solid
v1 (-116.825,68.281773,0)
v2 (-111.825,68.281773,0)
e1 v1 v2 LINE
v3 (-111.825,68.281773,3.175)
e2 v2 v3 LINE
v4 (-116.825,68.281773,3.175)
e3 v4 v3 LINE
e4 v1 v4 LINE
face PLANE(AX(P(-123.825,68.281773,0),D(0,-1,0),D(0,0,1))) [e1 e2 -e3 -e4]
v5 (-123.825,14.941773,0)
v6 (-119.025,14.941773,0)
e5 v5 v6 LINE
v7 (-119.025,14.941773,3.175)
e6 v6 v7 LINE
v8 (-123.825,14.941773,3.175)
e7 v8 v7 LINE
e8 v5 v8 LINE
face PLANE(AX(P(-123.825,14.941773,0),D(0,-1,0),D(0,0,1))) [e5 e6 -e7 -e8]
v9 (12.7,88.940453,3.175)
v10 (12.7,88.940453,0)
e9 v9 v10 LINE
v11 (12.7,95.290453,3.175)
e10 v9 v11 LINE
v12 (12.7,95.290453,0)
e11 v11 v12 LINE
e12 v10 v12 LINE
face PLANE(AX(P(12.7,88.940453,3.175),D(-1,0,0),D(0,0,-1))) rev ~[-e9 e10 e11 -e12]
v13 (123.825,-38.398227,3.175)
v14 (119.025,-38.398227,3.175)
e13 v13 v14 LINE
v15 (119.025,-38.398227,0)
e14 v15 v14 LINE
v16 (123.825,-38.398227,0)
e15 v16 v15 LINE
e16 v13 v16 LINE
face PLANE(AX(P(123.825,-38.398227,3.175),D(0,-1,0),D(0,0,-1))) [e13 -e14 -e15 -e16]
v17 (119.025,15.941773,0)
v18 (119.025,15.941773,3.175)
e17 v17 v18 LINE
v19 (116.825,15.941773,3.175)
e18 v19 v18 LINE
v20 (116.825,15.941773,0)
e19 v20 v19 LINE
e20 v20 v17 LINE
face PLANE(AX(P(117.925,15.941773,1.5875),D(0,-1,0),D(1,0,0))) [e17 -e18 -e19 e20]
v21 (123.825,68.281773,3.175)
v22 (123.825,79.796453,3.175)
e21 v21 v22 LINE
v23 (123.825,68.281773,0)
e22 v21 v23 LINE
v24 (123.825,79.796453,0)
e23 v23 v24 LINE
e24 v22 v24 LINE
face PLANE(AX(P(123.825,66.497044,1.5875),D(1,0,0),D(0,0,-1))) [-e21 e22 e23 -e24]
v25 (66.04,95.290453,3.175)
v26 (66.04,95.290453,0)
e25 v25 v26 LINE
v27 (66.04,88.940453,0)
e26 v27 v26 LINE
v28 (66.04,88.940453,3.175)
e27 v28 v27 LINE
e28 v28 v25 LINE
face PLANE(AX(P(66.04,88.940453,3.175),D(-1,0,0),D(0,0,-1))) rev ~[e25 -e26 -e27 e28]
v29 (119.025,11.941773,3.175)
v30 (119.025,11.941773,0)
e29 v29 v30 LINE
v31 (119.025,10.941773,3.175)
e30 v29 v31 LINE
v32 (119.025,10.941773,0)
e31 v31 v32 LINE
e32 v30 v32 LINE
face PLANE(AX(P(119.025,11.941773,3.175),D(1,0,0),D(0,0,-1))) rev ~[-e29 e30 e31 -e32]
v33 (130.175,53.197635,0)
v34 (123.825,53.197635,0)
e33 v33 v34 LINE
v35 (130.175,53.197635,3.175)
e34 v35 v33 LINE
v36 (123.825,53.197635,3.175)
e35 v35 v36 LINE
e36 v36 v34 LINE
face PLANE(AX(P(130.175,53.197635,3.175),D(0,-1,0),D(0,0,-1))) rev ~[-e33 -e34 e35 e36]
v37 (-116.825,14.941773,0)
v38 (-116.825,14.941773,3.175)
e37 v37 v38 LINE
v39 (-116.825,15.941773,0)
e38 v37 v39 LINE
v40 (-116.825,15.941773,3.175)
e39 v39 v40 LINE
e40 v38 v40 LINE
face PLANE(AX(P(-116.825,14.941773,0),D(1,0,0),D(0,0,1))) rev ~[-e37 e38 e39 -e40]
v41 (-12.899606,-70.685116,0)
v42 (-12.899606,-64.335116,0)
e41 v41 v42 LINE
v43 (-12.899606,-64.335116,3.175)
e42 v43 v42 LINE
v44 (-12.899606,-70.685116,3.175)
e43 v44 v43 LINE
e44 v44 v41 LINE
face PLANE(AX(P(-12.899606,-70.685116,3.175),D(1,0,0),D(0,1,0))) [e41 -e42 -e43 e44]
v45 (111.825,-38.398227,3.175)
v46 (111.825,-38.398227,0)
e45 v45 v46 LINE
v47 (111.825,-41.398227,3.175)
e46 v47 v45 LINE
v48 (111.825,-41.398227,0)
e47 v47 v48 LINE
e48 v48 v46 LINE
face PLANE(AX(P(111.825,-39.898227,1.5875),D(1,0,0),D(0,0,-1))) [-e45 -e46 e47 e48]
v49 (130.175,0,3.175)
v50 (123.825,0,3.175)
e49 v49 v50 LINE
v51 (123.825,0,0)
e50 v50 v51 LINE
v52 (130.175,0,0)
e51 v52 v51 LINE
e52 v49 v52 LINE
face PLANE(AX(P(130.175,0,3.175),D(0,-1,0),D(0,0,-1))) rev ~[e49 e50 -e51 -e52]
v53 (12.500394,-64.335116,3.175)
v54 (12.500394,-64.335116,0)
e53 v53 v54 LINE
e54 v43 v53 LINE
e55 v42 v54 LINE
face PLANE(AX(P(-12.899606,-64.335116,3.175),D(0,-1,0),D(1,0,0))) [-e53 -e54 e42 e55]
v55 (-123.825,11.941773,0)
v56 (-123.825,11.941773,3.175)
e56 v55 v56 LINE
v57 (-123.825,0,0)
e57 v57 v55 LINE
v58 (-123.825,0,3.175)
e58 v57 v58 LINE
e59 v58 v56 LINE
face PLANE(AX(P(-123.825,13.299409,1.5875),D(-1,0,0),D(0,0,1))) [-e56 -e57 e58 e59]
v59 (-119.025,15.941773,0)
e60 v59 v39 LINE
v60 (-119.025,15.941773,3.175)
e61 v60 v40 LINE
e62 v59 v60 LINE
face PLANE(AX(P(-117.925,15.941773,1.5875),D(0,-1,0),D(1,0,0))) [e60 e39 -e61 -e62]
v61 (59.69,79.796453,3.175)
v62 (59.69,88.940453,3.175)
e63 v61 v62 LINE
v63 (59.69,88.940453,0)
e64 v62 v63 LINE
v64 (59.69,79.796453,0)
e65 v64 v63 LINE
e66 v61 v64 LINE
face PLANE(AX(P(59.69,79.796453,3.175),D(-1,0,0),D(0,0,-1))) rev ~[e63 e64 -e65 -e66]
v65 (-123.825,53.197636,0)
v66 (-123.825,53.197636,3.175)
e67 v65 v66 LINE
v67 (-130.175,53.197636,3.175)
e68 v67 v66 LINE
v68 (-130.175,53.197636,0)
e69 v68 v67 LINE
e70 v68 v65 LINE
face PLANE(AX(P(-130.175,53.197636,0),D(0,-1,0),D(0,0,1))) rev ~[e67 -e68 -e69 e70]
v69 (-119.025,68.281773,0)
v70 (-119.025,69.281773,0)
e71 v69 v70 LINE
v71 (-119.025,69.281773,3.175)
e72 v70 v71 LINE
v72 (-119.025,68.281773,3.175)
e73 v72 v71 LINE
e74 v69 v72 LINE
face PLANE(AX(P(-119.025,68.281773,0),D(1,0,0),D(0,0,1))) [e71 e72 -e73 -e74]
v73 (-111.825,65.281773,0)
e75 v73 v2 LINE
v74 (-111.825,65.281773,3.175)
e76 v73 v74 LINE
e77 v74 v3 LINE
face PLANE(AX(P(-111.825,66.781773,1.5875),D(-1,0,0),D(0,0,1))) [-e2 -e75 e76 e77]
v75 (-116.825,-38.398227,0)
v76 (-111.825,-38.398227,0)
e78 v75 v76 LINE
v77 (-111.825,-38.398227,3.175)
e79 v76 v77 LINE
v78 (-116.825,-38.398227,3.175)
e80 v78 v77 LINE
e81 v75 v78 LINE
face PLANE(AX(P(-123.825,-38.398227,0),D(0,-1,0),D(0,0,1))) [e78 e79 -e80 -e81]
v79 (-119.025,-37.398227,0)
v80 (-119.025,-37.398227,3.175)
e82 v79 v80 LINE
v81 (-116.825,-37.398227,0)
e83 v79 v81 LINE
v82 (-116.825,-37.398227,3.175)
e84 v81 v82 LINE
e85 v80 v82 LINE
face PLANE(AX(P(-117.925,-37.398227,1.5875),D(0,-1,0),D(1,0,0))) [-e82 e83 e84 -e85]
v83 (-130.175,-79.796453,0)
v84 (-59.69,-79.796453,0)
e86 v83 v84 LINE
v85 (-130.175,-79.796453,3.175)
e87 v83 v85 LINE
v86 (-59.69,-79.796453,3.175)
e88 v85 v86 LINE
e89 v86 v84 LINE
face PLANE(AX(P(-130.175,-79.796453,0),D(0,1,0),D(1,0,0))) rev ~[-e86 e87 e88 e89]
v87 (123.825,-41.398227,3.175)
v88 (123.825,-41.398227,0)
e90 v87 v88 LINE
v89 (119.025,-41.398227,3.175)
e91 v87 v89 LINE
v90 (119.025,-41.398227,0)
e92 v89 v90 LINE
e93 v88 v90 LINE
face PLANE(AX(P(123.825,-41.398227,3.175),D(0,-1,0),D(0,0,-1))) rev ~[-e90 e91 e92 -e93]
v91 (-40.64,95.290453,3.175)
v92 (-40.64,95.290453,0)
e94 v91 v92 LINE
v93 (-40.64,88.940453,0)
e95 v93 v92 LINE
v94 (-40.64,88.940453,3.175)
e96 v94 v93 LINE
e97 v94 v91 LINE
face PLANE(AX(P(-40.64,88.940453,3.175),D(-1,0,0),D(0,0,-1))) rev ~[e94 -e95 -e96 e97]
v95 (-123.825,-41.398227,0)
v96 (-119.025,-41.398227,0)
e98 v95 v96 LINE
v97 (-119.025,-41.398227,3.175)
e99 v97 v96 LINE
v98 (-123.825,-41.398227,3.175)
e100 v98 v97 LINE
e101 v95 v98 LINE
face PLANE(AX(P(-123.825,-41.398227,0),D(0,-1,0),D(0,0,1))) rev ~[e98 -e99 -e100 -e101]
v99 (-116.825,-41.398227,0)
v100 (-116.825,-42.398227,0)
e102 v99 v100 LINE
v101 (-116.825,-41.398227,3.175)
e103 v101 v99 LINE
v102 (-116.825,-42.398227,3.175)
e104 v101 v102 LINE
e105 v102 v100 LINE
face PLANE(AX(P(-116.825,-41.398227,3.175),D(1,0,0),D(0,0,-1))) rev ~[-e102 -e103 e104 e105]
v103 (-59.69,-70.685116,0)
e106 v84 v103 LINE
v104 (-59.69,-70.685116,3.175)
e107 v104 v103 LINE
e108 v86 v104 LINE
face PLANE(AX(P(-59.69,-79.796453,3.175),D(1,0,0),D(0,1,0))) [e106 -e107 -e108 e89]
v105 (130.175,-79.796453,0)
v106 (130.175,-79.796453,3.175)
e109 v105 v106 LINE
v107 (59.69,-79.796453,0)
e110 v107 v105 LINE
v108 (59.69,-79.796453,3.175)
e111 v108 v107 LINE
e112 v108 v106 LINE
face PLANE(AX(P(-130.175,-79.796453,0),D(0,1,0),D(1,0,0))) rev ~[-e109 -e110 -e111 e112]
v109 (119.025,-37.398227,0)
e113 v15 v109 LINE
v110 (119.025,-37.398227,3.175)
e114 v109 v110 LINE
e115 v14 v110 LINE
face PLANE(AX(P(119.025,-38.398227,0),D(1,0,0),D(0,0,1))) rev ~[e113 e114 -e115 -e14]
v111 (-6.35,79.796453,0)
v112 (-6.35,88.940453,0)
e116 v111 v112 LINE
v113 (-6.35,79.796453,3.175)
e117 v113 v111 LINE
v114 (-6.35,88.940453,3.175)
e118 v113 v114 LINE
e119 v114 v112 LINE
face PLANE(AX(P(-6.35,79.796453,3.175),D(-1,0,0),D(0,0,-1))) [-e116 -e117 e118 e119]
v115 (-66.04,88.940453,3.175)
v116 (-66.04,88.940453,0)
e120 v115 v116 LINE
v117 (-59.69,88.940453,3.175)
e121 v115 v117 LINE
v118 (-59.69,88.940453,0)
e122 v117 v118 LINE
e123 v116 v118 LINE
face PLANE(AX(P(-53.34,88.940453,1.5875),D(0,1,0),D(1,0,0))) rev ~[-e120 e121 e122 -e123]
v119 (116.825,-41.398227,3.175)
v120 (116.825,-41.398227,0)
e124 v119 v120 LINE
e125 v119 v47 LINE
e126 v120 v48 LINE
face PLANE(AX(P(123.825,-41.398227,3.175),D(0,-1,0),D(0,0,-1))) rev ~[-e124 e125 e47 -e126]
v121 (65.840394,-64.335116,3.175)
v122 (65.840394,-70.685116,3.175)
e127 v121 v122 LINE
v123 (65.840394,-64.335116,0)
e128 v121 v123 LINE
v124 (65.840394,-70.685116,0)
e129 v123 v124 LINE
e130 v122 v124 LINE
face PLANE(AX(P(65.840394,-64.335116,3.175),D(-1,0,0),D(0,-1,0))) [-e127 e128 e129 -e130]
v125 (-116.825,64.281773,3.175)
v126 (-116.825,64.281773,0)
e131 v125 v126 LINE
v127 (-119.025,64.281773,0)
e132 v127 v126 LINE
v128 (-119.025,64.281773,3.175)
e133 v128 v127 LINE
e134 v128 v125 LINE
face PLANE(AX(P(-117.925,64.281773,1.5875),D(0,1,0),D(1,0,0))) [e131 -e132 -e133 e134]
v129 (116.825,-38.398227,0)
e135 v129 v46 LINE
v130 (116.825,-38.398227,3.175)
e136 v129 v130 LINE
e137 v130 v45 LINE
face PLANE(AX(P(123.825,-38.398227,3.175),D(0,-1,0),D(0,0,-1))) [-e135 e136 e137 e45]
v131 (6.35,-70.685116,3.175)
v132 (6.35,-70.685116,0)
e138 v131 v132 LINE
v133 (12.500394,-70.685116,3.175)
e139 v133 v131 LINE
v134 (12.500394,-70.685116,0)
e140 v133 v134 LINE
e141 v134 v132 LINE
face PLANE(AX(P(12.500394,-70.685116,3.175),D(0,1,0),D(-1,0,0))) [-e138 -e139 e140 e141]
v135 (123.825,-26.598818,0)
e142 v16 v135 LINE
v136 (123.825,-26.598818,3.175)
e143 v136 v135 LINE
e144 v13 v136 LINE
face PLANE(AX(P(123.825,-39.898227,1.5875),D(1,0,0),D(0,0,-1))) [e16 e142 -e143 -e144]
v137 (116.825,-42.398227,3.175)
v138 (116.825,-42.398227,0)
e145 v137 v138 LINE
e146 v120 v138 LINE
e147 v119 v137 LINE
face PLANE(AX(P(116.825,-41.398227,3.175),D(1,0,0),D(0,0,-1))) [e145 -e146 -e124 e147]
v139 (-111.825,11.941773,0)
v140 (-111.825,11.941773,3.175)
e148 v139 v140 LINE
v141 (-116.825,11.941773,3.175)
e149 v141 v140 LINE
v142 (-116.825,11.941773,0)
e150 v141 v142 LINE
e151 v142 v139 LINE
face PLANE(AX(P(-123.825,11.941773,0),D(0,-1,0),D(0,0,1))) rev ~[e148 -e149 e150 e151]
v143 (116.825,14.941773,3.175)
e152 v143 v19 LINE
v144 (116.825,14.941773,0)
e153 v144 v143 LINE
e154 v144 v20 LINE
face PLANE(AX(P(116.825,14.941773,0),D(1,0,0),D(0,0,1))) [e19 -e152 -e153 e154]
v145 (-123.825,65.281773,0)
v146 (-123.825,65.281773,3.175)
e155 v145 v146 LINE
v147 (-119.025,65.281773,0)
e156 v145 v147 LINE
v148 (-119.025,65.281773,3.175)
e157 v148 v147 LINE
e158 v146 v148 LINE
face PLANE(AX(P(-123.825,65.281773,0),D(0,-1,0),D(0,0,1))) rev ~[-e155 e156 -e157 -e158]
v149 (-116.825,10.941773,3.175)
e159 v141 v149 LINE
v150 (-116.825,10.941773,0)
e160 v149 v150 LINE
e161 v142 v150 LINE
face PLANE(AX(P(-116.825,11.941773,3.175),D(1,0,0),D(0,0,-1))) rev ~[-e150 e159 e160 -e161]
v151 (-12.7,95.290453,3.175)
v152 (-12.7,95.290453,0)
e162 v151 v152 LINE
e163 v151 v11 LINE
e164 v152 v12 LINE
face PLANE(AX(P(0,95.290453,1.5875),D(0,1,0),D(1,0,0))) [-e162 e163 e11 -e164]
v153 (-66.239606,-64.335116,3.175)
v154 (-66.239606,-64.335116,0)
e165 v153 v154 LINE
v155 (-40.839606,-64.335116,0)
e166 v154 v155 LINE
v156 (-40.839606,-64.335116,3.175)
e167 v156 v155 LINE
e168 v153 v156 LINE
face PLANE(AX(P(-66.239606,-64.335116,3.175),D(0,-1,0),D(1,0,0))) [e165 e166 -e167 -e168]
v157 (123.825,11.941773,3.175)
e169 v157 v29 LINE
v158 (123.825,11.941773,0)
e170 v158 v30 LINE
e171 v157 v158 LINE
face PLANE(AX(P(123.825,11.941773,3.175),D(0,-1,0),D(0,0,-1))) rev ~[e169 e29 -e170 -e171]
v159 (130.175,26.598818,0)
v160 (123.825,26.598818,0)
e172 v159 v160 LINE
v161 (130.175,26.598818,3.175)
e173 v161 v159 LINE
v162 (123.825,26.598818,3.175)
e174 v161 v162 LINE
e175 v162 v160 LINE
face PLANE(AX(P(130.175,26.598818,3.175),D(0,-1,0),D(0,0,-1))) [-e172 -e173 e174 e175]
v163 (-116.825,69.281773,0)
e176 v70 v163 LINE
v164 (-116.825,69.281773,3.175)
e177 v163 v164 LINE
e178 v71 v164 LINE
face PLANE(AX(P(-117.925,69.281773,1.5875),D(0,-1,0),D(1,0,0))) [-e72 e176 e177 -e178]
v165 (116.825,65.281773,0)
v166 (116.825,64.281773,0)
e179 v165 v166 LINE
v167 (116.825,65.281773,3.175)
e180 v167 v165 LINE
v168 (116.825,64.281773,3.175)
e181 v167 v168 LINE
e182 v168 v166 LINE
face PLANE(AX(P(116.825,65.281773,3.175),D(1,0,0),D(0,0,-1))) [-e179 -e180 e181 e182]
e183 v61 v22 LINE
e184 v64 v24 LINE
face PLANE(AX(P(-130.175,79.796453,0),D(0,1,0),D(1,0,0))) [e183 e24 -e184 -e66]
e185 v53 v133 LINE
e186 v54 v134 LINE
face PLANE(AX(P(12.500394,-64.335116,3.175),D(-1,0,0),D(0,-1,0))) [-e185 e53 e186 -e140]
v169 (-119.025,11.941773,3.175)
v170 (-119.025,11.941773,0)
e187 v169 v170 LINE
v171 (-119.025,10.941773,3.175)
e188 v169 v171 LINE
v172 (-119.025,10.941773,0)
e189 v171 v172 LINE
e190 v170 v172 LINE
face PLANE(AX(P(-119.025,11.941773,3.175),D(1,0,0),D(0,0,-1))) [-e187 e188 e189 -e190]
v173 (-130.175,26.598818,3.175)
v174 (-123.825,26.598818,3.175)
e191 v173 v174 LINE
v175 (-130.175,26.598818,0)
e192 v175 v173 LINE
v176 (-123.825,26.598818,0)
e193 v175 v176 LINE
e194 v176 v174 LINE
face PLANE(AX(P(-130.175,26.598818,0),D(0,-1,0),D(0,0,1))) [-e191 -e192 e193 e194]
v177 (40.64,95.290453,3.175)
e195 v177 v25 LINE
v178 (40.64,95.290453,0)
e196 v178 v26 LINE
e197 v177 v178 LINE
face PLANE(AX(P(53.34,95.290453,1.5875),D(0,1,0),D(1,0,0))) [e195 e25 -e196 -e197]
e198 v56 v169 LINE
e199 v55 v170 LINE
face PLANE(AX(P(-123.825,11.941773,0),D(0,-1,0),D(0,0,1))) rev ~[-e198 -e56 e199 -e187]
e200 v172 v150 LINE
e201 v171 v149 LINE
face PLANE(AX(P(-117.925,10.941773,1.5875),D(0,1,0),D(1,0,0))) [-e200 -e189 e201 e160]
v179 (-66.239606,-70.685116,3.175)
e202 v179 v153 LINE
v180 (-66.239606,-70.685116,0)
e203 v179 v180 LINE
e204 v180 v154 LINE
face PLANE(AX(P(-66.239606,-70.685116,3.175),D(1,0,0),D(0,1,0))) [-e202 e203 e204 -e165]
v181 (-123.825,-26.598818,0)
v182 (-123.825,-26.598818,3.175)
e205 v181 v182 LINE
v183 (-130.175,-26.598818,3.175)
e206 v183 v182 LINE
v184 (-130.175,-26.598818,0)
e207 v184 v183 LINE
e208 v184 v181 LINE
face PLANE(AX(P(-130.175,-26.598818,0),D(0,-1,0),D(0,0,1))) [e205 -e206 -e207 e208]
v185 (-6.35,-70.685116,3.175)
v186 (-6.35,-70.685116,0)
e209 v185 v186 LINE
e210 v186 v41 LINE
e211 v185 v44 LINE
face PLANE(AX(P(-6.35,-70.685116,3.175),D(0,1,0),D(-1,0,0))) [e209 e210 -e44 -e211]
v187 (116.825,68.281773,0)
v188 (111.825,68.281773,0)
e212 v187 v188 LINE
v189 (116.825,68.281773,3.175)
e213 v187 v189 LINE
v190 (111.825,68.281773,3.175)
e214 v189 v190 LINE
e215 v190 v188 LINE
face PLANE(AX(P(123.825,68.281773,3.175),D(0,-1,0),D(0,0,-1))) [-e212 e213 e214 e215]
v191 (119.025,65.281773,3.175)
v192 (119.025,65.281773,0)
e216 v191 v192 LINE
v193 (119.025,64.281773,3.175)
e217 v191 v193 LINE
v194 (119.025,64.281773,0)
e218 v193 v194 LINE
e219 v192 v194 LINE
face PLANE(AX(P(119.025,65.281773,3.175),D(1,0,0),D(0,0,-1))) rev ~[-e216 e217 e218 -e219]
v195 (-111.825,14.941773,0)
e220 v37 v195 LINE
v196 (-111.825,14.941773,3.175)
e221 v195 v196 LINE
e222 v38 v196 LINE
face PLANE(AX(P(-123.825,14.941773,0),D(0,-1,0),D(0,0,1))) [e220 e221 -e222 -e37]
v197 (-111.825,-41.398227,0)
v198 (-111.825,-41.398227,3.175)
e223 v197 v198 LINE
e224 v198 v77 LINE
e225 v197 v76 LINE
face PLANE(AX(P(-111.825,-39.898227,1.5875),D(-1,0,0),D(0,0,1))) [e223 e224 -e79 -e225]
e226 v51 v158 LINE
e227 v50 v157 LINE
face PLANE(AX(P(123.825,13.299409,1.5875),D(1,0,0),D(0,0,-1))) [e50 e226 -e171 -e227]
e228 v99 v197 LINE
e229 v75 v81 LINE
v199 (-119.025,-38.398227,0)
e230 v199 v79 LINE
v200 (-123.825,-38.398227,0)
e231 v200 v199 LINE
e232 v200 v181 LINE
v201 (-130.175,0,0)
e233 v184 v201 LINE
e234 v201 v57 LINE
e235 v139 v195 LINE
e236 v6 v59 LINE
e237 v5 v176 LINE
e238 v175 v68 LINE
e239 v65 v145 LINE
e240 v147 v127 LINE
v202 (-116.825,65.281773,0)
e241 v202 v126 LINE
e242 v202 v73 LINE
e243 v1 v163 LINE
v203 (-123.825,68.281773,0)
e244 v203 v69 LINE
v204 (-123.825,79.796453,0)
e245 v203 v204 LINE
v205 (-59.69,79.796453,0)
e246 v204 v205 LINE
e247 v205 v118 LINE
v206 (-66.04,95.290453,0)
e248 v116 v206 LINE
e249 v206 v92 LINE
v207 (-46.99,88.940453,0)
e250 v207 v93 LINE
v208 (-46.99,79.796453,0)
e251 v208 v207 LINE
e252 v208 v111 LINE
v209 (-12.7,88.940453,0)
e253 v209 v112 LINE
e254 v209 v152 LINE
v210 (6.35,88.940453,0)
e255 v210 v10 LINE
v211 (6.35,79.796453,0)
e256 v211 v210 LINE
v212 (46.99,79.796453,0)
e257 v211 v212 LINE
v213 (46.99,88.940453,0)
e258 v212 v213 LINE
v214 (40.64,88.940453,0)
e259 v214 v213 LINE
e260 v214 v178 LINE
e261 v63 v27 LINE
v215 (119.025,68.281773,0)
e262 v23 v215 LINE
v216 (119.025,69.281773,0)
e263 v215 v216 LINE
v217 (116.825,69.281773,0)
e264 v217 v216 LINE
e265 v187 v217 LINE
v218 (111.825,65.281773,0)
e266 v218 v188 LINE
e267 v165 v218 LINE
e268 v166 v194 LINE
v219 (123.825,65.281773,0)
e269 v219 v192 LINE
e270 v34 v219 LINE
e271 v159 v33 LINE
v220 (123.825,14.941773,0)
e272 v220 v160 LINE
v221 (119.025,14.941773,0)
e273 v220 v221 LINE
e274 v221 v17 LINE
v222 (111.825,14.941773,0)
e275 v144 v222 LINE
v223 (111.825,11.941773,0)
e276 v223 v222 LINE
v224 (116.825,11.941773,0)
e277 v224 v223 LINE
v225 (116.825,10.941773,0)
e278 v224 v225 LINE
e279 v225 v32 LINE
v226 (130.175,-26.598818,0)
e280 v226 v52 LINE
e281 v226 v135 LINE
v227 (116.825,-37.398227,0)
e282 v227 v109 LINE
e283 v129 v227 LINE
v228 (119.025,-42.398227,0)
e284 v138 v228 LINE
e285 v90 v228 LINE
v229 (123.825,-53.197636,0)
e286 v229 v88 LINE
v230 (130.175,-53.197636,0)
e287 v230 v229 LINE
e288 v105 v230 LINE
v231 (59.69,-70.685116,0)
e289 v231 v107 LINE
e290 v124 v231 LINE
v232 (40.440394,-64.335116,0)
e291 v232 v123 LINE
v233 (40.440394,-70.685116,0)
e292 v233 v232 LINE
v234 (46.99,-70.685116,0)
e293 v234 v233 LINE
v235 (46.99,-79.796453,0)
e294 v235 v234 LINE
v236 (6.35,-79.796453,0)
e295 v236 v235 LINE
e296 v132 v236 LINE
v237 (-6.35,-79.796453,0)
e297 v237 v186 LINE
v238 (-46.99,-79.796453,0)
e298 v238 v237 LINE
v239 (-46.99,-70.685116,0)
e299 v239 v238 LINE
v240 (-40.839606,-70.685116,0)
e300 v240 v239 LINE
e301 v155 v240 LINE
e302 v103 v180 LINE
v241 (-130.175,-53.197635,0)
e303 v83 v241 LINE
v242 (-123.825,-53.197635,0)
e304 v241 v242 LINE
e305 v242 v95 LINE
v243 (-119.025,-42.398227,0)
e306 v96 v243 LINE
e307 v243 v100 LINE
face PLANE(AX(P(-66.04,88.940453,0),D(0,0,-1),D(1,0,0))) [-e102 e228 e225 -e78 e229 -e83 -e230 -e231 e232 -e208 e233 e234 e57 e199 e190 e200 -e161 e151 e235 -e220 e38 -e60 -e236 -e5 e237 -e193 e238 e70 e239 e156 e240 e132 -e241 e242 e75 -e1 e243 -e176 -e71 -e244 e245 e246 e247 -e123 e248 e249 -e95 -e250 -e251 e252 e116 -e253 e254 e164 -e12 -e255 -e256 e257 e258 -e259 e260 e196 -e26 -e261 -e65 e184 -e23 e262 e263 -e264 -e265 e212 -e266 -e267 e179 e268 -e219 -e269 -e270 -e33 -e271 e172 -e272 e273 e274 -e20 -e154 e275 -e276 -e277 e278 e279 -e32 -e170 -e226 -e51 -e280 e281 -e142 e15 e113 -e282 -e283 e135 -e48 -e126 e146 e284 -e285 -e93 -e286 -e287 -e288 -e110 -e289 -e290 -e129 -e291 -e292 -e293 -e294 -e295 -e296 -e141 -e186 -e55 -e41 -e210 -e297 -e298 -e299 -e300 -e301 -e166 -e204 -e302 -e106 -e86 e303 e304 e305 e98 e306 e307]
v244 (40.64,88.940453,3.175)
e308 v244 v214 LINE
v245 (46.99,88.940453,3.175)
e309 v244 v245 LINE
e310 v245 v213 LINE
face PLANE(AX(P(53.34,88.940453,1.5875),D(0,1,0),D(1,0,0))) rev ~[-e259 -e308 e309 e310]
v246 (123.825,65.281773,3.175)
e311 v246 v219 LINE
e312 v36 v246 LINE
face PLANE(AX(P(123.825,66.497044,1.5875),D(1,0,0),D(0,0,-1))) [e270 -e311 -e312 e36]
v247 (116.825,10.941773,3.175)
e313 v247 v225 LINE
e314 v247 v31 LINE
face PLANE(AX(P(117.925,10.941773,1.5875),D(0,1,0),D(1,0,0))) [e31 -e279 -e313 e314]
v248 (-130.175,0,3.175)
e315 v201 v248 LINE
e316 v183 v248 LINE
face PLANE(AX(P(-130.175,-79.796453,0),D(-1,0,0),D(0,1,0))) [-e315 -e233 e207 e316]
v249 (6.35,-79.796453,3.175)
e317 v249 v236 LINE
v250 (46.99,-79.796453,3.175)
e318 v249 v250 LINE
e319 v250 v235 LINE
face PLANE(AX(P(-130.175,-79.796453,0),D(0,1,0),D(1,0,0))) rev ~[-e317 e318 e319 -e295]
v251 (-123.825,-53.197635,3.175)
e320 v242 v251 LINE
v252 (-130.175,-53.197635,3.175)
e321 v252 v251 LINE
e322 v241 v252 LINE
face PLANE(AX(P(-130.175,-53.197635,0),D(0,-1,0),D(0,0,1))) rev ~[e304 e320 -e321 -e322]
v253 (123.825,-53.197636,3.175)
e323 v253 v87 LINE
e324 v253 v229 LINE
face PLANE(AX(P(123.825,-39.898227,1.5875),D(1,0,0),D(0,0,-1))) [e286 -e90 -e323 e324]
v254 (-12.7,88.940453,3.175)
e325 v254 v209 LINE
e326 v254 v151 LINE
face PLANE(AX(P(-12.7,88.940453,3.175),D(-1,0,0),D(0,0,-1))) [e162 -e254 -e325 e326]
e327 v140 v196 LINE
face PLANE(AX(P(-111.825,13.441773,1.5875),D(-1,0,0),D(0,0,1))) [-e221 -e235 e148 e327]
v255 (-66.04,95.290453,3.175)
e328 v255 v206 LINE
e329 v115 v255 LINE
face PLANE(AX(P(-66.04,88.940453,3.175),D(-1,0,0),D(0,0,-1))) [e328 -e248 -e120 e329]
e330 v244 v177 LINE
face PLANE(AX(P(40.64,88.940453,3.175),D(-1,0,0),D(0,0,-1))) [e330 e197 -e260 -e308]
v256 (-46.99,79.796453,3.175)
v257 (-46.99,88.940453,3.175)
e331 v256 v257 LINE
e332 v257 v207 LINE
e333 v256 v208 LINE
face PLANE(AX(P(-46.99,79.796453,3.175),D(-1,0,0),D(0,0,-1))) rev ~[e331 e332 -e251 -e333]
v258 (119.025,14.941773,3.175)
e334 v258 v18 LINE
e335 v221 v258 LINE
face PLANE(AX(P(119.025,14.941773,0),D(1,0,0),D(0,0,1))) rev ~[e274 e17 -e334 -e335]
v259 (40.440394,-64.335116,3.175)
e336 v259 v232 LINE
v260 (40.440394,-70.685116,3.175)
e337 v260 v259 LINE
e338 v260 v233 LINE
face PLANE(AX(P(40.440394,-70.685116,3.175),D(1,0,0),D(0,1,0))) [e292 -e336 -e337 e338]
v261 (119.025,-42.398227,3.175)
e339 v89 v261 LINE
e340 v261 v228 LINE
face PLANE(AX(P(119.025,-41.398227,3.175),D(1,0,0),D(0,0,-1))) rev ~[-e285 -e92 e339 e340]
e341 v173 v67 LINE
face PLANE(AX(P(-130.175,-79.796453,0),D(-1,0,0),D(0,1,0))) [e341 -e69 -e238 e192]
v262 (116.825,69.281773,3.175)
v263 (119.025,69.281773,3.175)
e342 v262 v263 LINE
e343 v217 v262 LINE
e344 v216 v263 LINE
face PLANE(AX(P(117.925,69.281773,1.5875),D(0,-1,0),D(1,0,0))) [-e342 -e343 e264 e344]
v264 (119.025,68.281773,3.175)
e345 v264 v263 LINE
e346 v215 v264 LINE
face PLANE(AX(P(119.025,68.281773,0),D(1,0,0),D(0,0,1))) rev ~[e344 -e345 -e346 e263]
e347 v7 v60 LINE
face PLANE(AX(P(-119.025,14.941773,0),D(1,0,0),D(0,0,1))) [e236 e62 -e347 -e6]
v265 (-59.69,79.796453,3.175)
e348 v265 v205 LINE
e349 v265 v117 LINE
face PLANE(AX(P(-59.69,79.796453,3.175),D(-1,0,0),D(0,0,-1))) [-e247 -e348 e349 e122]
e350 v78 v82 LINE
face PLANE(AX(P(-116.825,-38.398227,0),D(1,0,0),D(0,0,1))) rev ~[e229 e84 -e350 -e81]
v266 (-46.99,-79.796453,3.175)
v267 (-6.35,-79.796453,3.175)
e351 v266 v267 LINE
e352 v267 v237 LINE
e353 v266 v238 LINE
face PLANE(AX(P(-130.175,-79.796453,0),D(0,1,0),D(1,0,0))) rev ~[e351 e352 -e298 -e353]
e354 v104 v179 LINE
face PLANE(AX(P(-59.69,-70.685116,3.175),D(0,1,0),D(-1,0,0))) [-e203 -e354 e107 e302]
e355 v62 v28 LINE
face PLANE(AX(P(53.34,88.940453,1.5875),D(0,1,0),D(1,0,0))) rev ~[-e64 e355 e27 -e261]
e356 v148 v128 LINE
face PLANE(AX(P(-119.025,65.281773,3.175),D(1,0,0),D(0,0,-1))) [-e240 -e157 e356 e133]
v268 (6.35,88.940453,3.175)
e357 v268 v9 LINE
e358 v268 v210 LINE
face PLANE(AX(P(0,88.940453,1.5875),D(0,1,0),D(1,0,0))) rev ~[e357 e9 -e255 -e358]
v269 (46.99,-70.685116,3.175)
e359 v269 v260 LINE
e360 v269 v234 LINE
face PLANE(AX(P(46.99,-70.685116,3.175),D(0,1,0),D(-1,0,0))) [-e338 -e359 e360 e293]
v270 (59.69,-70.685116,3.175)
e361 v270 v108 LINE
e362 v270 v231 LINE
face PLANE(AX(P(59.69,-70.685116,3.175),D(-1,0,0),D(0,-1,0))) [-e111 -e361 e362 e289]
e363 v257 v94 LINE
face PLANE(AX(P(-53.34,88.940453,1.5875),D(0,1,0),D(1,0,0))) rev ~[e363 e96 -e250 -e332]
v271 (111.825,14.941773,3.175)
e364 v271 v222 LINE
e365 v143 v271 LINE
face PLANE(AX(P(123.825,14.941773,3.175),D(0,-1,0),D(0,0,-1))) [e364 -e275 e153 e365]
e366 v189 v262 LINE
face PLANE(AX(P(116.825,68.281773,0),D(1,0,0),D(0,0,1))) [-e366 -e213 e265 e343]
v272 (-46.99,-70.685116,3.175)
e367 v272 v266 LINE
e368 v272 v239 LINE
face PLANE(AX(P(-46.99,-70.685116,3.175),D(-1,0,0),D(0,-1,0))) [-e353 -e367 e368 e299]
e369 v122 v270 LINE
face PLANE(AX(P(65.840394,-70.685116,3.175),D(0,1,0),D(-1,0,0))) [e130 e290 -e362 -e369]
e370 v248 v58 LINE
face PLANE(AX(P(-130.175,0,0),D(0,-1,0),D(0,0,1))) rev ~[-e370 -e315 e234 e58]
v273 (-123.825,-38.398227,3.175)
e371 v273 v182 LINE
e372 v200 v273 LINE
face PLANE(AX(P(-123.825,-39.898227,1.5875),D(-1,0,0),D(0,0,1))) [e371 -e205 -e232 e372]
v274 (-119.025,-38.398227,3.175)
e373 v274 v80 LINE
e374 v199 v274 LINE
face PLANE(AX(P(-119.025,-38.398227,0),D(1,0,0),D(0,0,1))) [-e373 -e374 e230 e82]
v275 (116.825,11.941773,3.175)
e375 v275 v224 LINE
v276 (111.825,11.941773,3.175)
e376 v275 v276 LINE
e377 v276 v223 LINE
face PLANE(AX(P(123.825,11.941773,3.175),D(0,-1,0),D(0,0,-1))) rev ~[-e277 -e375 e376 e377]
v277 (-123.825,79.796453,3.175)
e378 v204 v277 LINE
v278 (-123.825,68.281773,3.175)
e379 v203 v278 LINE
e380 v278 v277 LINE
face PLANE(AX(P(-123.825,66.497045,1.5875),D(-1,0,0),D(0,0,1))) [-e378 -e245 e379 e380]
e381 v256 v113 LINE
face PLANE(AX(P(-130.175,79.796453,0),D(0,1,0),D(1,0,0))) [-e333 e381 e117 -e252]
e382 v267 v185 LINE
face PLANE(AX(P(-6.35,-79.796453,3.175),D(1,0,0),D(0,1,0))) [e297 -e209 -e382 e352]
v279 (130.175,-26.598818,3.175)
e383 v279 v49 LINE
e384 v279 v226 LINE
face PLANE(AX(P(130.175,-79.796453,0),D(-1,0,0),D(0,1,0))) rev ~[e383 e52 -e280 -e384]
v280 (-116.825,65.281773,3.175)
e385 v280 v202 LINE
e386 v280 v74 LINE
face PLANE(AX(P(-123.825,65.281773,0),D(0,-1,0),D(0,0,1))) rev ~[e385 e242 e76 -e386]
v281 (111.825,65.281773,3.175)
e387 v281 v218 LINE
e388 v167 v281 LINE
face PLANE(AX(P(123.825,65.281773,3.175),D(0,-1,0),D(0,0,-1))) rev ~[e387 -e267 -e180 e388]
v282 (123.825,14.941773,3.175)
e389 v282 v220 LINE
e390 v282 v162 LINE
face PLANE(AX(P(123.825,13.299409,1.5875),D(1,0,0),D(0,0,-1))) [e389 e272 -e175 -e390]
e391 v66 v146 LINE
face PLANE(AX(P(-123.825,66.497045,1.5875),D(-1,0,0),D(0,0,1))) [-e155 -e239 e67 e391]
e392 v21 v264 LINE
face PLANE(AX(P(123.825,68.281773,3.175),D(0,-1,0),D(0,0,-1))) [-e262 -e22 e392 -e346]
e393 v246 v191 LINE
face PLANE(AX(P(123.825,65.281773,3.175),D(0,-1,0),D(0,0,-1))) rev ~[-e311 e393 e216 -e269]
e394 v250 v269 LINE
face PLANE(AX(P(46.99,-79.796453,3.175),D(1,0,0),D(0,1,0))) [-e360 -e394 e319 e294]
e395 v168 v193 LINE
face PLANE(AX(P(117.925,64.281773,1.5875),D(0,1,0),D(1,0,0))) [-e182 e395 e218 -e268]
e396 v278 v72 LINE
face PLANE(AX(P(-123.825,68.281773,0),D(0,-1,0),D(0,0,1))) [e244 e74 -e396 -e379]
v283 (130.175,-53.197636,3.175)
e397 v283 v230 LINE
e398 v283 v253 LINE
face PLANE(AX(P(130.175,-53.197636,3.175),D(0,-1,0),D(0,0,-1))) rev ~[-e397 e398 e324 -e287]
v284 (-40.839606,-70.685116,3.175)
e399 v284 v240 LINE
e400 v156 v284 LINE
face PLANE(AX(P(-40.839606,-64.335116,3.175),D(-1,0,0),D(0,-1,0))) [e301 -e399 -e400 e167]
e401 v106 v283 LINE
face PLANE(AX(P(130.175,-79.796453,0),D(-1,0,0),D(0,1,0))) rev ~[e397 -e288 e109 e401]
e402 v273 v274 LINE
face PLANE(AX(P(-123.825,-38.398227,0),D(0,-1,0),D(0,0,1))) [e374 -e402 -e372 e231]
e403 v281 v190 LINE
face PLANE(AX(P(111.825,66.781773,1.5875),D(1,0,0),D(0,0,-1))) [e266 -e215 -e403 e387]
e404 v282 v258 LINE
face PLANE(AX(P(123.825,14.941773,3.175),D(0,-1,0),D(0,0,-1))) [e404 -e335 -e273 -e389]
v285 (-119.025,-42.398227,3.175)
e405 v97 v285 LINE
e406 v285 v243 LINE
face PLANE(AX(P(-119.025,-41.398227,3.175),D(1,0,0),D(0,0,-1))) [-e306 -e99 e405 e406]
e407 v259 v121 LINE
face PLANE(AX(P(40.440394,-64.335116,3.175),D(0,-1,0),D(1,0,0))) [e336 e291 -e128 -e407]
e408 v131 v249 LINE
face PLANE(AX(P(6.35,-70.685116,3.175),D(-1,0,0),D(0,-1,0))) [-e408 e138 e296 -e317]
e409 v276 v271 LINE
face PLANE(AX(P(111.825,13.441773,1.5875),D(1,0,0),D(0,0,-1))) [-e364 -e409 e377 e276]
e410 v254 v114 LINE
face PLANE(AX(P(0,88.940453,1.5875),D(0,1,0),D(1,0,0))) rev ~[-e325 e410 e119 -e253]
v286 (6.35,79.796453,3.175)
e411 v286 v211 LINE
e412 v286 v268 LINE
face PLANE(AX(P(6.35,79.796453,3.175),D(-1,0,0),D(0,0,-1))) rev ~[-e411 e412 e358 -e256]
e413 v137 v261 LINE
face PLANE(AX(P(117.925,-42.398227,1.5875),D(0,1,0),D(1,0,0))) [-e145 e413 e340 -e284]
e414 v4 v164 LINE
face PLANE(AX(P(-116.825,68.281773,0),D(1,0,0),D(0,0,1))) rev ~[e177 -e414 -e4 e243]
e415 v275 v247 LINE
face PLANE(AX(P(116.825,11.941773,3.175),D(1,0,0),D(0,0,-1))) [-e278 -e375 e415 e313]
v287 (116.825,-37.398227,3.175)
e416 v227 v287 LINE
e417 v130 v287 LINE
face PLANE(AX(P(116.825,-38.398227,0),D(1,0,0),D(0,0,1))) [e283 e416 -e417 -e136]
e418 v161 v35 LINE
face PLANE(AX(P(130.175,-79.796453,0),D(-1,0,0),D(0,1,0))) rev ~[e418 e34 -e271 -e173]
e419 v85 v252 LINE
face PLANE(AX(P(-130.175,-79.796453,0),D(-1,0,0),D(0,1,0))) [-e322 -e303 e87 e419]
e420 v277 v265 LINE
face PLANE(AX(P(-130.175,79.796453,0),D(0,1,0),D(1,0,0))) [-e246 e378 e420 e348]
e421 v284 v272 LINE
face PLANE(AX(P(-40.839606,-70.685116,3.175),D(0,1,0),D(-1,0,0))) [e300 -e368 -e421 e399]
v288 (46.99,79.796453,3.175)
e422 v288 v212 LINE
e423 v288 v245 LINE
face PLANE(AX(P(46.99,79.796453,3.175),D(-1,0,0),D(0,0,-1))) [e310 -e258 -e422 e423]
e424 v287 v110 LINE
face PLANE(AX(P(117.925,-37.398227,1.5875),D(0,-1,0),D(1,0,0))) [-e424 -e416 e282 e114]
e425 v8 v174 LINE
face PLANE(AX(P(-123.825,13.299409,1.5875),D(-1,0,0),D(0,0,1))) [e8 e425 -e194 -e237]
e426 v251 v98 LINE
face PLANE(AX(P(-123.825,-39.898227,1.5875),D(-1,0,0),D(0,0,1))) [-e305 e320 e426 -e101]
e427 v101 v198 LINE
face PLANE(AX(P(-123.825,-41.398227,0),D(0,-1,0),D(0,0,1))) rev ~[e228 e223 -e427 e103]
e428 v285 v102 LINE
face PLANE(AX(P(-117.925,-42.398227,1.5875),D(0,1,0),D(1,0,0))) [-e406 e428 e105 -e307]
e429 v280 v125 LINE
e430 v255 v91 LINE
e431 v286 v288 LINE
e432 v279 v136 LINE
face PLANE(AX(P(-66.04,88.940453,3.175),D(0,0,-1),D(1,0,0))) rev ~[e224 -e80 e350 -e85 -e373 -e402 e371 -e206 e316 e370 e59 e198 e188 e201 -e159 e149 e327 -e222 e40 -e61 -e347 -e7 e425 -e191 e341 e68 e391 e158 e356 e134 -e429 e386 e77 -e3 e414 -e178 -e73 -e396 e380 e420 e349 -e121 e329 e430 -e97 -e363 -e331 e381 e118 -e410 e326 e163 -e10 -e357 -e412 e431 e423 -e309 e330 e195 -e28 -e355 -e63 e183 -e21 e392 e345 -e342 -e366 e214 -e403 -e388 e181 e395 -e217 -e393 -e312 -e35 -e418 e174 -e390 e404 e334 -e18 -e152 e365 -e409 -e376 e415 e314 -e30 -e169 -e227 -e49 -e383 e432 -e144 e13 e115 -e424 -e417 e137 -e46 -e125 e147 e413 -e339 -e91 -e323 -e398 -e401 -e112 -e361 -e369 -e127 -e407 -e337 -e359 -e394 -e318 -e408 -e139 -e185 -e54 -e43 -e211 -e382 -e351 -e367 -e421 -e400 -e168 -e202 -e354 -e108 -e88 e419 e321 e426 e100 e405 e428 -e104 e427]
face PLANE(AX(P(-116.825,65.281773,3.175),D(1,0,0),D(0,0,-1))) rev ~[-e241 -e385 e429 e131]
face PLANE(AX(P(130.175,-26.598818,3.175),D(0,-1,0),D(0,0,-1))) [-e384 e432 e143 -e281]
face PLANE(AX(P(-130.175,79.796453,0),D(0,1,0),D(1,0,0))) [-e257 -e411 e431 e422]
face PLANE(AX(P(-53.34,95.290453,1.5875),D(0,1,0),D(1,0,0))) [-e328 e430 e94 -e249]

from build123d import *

# Parameters (mm, degrees)
SKETCH1_W           = 260.35
SKETCH1_H           = 159.592906802
BOSS_EXTRUDE1_DEPTH = 3.175
SKETCH2_W           = 3.175
SKETCH2_H           = 26.5988178
CUT_EXTRUDE1_DEPTH  = 6.35
LPATTERN1_COUNT     = 3
LPATTERN1_PITCH     = 53.19763554
SKETCH3_W           = 3.175
SKETCH3_H           = 26.59881777
CUT_EXTRUDE3_DEPTH  = 6.35
LPATTERN3_COUNT     = 3
LPATTERN3_PITCH     = 53.19763554
SKETCH5_W           = 3.175
SKETCH5_H           = 3
CUT_EXTRUDE4_DEPTH  = 12
SKETCH6_W           = 2.2
SKETCH6_H           = 3.175
CUT_EXTRUDE5_DEPTH  = 1
SKETCH8_W           = 2.2
SKETCH8_H           = 3.175
CUT_EXTRUDE6_DEPTH  = 1
LPATTERN5_COUNT     = 3
LPATTERN5_PITCH     = 53.34
SKETCH9_W           = 3.175
SKETCH9_H           = 3
CUT_EXTRUDE7_DEPTH  = 12
SKETCH10_W          = 2.2
SKETCH10_H          = 3.175
CUT_EXTRUDE8_DEPTH  = 1
SKETCH11_W          = 2.2
SKETCH11_H          = 3.175
CUT_EXTRUDE9_DEPTH  = 1
LPATTERN6_COUNT     = 3
LPATTERN6_PITCH     = 53.34
CUT_EXTRUDE10_DEPTH = 153.718974674
LPATTERN7_COUNT     = 2
LPATTERN7_PITCH     = 53.34
LPATTERN8_COUNT     = 2
LPATTERN8_PITCH     = 53.34
SKETCH15_W          = 12.7
SKETCH15_H          = 3.175
BOSS_EXTRUDE2_DEPTH = 9.144
SKETCH16_W          = 25.4
SKETCH16_H          = 3.175
BOSS_EXTRUDE3_DEPTH = 6.35
LPATTERN9_COUNT     = 2
LPATTERN9_PITCH     = 53.34
LPATTERN10_COUNT    = 2
LPATTERN10_PITCH    = 53.34


with BuildPart() as part:
    # Sketch1 → Boss-Extrude1 (new body)
    with BuildSketch(Plane.XY):
        Rectangle(SKETCH1_W, SKETCH1_H)
    extrude(amount=BOSS_EXTRUDE1_DEPTH)

    # Sketch2 → Cut-Extrude1 (cut)
    with BuildSketch(Plane.ZY.offset(130.175)):
        with Locations((1.5875, 66.497044501)):
            Rectangle(SKETCH2_W, SKETCH2_H)
    cut_extrude1 = extrude(amount=-CUT_EXTRUDE1_DEPTH, mode=Mode.SUBTRACT)

    # LPattern1: Cut-Extrude1 ×3
    with Locations(*[(0, -i * LPATTERN1_PITCH, 0) for i in range(1, LPATTERN1_COUNT)]):
        add(cut_extrude1, mode=Mode.SUBTRACT)

    # Sketch3 → Cut-Extrude3 (cut)
    with BuildSketch(Plane(origin=(130.175, 0, 0), x_dir=(0, 0, -1), z_dir=(1, 0, 0))):
        with Locations((-1.5875, -39.898226818)):
            Rectangle(SKETCH3_W, SKETCH3_H)
    cut_extrude3 = extrude(amount=-CUT_EXTRUDE3_DEPTH, mode=Mode.SUBTRACT)

    # LPattern3: Cut-Extrude3 ×3
    with Locations(*[(0, i * LPATTERN3_PITCH, 0) for i in range(1, LPATTERN3_COUNT)]):
        add(cut_extrude3, mode=Mode.SUBTRACT)

    # Sketch5 → Cut-Extrude4 (cut)
    with BuildSketch(Plane.ZY.offset(123.825)):
        with Locations((1.5875, -39.898226579)):
            Rectangle(SKETCH5_W, SKETCH5_H)
    cut_extrude4 = extrude(amount=-CUT_EXTRUDE4_DEPTH, mode=Mode.SUBTRACT)

    # Sketch6 → Cut-Extrude5 (cut)
    with BuildSketch(Plane.XZ.offset(38.398226579)):
        with Locations((-117.925, 1.5875)):
            Rectangle(SKETCH6_W, SKETCH6_H)
    cut_extrude5 = extrude(amount=-CUT_EXTRUDE5_DEPTH, mode=Mode.SUBTRACT)

    # Sketch8 → Cut-Extrude6 (cut)
    with BuildSketch(Plane(origin=(0, -41.398226579, 0), x_dir=(1, 0, 0), z_dir=(0, 1, 0))):
        with Locations((-117.925, -1.5875)):
            Rectangle(SKETCH8_W, SKETCH8_H)
    cut_extrude6 = extrude(amount=-CUT_EXTRUDE6_DEPTH, mode=Mode.SUBTRACT)

    # LPattern5: Cut-Extrude4, Cut-Extrude5, Cut-Extrude6 ×3
    with Locations(*[(0, i * LPATTERN5_PITCH, 0) for i in range(1, LPATTERN5_COUNT)]):
        add(cut_extrude4, mode=Mode.SUBTRACT)
        add(cut_extrude5, mode=Mode.SUBTRACT)
        add(cut_extrude6, mode=Mode.SUBTRACT)

    # Sketch9 → Cut-Extrude7 (cut)
    with BuildSketch(Plane(origin=(123.825, 0, 0), x_dir=(0, 0, -1), z_dir=(1, 0, 0))):
        with Locations((-1.5875, -39.898226818)):
            Rectangle(SKETCH9_W, SKETCH9_H)
    cut_extrude7 = extrude(amount=-CUT_EXTRUDE7_DEPTH, mode=Mode.SUBTRACT)

    # Sketch10 → Cut-Extrude8 (cut)
    with BuildSketch(Plane.XZ.offset(38.398226818)):
        with Locations((117.925, 1.5875)):
            Rectangle(SKETCH10_W, SKETCH10_H)
    cut_extrude8 = extrude(amount=-CUT_EXTRUDE8_DEPTH, mode=Mode.SUBTRACT)

    # Sketch11 → Cut-Extrude9 (cut)
    with BuildSketch(Plane(origin=(0, -41.398226818, 0), x_dir=(1, 0, 0), z_dir=(0, 1, 0))):
        with Locations((117.925, -1.5875)):
            Rectangle(SKETCH11_W, SKETCH11_H)
    cut_extrude9 = extrude(amount=-CUT_EXTRUDE9_DEPTH, mode=Mode.SUBTRACT)

    # LPattern6: Cut-Extrude7, Cut-Extrude8, Cut-Extrude9 ×3
    with Locations(*[(0, i * LPATTERN6_PITCH, 0) for i in range(1, LPATTERN6_COUNT)]):
        add(cut_extrude7, mode=Mode.SUBTRACT)
        add(cut_extrude8, mode=Mode.SUBTRACT)
        add(cut_extrude9, mode=Mode.SUBTRACT)

    # Sketch4 → Cut-Extrude10 (cut, through all)
    with BuildSketch(Plane.XY.offset(3.175)):
        Polygon((-6.35, -79.796453401), (-6.35, -70.685115582), (-12.899606221, -70.685115582), (-12.899606221, -64.335115582), (12.500393779, -64.335115582), (12.500393779, -70.685115582), (6.35, -70.685115582), (6.35, -79.796453401), align=None)
    cut_extrude10 = extrude(amount=-CUT_EXTRUDE10_DEPTH, mode=Mode.SUBTRACT)

    # LPattern7: Cut-Extrude10 ×2
    with Locations(*[(-i * LPATTERN7_PITCH, 0, 0) for i in range(1, LPATTERN7_COUNT)]):
        add(cut_extrude10, mode=Mode.SUBTRACT)

    # LPattern8: Cut-Extrude10 ×2
    with Locations(*[(i * LPATTERN8_PITCH, 0, 0) for i in range(1, LPATTERN8_COUNT)]):
        add(cut_extrude10, mode=Mode.SUBTRACT)

    # Sketch15 → Boss-Extrude2 (add)
    with BuildSketch(Plane(origin=(0, 79.796453401, 0), x_dir=(1, 0, 0), z_dir=(0, 1, 0))):
        with Locations((0, -1.5875)):
            Rectangle(SKETCH15_W, SKETCH15_H)
    boss_extrude2 = extrude(amount=BOSS_EXTRUDE2_DEPTH)

    # Sketch16 → Boss-Extrude3 (add)
    with BuildSketch(Plane(origin=(0, 88.940453401, 0), x_dir=(1, 0, 0), z_dir=(0, 1, 0))):
        with Locations((0, -1.5875)):
            Rectangle(SKETCH16_W, SKETCH16_H)
    boss_extrude3 = extrude(amount=BOSS_EXTRUDE3_DEPTH)

    # LPattern9: Boss-Extrude2, Boss-Extrude3 ×2
    with Locations(*[(i * LPATTERN9_PITCH, 0, 0) for i in range(1, LPATTERN9_COUNT)]):
        add(boss_extrude2)
        add(boss_extrude3)

    # LPattern10: Boss-Extrude2, Boss-Extrude3 ×2
    with Locations(*[(-i * LPATTERN10_PITCH, 0, 0) for i in range(1, LPATTERN10_COUNT)]):
        add(boss_extrude2)
        add(boss_extrude3)


solid = part.part
